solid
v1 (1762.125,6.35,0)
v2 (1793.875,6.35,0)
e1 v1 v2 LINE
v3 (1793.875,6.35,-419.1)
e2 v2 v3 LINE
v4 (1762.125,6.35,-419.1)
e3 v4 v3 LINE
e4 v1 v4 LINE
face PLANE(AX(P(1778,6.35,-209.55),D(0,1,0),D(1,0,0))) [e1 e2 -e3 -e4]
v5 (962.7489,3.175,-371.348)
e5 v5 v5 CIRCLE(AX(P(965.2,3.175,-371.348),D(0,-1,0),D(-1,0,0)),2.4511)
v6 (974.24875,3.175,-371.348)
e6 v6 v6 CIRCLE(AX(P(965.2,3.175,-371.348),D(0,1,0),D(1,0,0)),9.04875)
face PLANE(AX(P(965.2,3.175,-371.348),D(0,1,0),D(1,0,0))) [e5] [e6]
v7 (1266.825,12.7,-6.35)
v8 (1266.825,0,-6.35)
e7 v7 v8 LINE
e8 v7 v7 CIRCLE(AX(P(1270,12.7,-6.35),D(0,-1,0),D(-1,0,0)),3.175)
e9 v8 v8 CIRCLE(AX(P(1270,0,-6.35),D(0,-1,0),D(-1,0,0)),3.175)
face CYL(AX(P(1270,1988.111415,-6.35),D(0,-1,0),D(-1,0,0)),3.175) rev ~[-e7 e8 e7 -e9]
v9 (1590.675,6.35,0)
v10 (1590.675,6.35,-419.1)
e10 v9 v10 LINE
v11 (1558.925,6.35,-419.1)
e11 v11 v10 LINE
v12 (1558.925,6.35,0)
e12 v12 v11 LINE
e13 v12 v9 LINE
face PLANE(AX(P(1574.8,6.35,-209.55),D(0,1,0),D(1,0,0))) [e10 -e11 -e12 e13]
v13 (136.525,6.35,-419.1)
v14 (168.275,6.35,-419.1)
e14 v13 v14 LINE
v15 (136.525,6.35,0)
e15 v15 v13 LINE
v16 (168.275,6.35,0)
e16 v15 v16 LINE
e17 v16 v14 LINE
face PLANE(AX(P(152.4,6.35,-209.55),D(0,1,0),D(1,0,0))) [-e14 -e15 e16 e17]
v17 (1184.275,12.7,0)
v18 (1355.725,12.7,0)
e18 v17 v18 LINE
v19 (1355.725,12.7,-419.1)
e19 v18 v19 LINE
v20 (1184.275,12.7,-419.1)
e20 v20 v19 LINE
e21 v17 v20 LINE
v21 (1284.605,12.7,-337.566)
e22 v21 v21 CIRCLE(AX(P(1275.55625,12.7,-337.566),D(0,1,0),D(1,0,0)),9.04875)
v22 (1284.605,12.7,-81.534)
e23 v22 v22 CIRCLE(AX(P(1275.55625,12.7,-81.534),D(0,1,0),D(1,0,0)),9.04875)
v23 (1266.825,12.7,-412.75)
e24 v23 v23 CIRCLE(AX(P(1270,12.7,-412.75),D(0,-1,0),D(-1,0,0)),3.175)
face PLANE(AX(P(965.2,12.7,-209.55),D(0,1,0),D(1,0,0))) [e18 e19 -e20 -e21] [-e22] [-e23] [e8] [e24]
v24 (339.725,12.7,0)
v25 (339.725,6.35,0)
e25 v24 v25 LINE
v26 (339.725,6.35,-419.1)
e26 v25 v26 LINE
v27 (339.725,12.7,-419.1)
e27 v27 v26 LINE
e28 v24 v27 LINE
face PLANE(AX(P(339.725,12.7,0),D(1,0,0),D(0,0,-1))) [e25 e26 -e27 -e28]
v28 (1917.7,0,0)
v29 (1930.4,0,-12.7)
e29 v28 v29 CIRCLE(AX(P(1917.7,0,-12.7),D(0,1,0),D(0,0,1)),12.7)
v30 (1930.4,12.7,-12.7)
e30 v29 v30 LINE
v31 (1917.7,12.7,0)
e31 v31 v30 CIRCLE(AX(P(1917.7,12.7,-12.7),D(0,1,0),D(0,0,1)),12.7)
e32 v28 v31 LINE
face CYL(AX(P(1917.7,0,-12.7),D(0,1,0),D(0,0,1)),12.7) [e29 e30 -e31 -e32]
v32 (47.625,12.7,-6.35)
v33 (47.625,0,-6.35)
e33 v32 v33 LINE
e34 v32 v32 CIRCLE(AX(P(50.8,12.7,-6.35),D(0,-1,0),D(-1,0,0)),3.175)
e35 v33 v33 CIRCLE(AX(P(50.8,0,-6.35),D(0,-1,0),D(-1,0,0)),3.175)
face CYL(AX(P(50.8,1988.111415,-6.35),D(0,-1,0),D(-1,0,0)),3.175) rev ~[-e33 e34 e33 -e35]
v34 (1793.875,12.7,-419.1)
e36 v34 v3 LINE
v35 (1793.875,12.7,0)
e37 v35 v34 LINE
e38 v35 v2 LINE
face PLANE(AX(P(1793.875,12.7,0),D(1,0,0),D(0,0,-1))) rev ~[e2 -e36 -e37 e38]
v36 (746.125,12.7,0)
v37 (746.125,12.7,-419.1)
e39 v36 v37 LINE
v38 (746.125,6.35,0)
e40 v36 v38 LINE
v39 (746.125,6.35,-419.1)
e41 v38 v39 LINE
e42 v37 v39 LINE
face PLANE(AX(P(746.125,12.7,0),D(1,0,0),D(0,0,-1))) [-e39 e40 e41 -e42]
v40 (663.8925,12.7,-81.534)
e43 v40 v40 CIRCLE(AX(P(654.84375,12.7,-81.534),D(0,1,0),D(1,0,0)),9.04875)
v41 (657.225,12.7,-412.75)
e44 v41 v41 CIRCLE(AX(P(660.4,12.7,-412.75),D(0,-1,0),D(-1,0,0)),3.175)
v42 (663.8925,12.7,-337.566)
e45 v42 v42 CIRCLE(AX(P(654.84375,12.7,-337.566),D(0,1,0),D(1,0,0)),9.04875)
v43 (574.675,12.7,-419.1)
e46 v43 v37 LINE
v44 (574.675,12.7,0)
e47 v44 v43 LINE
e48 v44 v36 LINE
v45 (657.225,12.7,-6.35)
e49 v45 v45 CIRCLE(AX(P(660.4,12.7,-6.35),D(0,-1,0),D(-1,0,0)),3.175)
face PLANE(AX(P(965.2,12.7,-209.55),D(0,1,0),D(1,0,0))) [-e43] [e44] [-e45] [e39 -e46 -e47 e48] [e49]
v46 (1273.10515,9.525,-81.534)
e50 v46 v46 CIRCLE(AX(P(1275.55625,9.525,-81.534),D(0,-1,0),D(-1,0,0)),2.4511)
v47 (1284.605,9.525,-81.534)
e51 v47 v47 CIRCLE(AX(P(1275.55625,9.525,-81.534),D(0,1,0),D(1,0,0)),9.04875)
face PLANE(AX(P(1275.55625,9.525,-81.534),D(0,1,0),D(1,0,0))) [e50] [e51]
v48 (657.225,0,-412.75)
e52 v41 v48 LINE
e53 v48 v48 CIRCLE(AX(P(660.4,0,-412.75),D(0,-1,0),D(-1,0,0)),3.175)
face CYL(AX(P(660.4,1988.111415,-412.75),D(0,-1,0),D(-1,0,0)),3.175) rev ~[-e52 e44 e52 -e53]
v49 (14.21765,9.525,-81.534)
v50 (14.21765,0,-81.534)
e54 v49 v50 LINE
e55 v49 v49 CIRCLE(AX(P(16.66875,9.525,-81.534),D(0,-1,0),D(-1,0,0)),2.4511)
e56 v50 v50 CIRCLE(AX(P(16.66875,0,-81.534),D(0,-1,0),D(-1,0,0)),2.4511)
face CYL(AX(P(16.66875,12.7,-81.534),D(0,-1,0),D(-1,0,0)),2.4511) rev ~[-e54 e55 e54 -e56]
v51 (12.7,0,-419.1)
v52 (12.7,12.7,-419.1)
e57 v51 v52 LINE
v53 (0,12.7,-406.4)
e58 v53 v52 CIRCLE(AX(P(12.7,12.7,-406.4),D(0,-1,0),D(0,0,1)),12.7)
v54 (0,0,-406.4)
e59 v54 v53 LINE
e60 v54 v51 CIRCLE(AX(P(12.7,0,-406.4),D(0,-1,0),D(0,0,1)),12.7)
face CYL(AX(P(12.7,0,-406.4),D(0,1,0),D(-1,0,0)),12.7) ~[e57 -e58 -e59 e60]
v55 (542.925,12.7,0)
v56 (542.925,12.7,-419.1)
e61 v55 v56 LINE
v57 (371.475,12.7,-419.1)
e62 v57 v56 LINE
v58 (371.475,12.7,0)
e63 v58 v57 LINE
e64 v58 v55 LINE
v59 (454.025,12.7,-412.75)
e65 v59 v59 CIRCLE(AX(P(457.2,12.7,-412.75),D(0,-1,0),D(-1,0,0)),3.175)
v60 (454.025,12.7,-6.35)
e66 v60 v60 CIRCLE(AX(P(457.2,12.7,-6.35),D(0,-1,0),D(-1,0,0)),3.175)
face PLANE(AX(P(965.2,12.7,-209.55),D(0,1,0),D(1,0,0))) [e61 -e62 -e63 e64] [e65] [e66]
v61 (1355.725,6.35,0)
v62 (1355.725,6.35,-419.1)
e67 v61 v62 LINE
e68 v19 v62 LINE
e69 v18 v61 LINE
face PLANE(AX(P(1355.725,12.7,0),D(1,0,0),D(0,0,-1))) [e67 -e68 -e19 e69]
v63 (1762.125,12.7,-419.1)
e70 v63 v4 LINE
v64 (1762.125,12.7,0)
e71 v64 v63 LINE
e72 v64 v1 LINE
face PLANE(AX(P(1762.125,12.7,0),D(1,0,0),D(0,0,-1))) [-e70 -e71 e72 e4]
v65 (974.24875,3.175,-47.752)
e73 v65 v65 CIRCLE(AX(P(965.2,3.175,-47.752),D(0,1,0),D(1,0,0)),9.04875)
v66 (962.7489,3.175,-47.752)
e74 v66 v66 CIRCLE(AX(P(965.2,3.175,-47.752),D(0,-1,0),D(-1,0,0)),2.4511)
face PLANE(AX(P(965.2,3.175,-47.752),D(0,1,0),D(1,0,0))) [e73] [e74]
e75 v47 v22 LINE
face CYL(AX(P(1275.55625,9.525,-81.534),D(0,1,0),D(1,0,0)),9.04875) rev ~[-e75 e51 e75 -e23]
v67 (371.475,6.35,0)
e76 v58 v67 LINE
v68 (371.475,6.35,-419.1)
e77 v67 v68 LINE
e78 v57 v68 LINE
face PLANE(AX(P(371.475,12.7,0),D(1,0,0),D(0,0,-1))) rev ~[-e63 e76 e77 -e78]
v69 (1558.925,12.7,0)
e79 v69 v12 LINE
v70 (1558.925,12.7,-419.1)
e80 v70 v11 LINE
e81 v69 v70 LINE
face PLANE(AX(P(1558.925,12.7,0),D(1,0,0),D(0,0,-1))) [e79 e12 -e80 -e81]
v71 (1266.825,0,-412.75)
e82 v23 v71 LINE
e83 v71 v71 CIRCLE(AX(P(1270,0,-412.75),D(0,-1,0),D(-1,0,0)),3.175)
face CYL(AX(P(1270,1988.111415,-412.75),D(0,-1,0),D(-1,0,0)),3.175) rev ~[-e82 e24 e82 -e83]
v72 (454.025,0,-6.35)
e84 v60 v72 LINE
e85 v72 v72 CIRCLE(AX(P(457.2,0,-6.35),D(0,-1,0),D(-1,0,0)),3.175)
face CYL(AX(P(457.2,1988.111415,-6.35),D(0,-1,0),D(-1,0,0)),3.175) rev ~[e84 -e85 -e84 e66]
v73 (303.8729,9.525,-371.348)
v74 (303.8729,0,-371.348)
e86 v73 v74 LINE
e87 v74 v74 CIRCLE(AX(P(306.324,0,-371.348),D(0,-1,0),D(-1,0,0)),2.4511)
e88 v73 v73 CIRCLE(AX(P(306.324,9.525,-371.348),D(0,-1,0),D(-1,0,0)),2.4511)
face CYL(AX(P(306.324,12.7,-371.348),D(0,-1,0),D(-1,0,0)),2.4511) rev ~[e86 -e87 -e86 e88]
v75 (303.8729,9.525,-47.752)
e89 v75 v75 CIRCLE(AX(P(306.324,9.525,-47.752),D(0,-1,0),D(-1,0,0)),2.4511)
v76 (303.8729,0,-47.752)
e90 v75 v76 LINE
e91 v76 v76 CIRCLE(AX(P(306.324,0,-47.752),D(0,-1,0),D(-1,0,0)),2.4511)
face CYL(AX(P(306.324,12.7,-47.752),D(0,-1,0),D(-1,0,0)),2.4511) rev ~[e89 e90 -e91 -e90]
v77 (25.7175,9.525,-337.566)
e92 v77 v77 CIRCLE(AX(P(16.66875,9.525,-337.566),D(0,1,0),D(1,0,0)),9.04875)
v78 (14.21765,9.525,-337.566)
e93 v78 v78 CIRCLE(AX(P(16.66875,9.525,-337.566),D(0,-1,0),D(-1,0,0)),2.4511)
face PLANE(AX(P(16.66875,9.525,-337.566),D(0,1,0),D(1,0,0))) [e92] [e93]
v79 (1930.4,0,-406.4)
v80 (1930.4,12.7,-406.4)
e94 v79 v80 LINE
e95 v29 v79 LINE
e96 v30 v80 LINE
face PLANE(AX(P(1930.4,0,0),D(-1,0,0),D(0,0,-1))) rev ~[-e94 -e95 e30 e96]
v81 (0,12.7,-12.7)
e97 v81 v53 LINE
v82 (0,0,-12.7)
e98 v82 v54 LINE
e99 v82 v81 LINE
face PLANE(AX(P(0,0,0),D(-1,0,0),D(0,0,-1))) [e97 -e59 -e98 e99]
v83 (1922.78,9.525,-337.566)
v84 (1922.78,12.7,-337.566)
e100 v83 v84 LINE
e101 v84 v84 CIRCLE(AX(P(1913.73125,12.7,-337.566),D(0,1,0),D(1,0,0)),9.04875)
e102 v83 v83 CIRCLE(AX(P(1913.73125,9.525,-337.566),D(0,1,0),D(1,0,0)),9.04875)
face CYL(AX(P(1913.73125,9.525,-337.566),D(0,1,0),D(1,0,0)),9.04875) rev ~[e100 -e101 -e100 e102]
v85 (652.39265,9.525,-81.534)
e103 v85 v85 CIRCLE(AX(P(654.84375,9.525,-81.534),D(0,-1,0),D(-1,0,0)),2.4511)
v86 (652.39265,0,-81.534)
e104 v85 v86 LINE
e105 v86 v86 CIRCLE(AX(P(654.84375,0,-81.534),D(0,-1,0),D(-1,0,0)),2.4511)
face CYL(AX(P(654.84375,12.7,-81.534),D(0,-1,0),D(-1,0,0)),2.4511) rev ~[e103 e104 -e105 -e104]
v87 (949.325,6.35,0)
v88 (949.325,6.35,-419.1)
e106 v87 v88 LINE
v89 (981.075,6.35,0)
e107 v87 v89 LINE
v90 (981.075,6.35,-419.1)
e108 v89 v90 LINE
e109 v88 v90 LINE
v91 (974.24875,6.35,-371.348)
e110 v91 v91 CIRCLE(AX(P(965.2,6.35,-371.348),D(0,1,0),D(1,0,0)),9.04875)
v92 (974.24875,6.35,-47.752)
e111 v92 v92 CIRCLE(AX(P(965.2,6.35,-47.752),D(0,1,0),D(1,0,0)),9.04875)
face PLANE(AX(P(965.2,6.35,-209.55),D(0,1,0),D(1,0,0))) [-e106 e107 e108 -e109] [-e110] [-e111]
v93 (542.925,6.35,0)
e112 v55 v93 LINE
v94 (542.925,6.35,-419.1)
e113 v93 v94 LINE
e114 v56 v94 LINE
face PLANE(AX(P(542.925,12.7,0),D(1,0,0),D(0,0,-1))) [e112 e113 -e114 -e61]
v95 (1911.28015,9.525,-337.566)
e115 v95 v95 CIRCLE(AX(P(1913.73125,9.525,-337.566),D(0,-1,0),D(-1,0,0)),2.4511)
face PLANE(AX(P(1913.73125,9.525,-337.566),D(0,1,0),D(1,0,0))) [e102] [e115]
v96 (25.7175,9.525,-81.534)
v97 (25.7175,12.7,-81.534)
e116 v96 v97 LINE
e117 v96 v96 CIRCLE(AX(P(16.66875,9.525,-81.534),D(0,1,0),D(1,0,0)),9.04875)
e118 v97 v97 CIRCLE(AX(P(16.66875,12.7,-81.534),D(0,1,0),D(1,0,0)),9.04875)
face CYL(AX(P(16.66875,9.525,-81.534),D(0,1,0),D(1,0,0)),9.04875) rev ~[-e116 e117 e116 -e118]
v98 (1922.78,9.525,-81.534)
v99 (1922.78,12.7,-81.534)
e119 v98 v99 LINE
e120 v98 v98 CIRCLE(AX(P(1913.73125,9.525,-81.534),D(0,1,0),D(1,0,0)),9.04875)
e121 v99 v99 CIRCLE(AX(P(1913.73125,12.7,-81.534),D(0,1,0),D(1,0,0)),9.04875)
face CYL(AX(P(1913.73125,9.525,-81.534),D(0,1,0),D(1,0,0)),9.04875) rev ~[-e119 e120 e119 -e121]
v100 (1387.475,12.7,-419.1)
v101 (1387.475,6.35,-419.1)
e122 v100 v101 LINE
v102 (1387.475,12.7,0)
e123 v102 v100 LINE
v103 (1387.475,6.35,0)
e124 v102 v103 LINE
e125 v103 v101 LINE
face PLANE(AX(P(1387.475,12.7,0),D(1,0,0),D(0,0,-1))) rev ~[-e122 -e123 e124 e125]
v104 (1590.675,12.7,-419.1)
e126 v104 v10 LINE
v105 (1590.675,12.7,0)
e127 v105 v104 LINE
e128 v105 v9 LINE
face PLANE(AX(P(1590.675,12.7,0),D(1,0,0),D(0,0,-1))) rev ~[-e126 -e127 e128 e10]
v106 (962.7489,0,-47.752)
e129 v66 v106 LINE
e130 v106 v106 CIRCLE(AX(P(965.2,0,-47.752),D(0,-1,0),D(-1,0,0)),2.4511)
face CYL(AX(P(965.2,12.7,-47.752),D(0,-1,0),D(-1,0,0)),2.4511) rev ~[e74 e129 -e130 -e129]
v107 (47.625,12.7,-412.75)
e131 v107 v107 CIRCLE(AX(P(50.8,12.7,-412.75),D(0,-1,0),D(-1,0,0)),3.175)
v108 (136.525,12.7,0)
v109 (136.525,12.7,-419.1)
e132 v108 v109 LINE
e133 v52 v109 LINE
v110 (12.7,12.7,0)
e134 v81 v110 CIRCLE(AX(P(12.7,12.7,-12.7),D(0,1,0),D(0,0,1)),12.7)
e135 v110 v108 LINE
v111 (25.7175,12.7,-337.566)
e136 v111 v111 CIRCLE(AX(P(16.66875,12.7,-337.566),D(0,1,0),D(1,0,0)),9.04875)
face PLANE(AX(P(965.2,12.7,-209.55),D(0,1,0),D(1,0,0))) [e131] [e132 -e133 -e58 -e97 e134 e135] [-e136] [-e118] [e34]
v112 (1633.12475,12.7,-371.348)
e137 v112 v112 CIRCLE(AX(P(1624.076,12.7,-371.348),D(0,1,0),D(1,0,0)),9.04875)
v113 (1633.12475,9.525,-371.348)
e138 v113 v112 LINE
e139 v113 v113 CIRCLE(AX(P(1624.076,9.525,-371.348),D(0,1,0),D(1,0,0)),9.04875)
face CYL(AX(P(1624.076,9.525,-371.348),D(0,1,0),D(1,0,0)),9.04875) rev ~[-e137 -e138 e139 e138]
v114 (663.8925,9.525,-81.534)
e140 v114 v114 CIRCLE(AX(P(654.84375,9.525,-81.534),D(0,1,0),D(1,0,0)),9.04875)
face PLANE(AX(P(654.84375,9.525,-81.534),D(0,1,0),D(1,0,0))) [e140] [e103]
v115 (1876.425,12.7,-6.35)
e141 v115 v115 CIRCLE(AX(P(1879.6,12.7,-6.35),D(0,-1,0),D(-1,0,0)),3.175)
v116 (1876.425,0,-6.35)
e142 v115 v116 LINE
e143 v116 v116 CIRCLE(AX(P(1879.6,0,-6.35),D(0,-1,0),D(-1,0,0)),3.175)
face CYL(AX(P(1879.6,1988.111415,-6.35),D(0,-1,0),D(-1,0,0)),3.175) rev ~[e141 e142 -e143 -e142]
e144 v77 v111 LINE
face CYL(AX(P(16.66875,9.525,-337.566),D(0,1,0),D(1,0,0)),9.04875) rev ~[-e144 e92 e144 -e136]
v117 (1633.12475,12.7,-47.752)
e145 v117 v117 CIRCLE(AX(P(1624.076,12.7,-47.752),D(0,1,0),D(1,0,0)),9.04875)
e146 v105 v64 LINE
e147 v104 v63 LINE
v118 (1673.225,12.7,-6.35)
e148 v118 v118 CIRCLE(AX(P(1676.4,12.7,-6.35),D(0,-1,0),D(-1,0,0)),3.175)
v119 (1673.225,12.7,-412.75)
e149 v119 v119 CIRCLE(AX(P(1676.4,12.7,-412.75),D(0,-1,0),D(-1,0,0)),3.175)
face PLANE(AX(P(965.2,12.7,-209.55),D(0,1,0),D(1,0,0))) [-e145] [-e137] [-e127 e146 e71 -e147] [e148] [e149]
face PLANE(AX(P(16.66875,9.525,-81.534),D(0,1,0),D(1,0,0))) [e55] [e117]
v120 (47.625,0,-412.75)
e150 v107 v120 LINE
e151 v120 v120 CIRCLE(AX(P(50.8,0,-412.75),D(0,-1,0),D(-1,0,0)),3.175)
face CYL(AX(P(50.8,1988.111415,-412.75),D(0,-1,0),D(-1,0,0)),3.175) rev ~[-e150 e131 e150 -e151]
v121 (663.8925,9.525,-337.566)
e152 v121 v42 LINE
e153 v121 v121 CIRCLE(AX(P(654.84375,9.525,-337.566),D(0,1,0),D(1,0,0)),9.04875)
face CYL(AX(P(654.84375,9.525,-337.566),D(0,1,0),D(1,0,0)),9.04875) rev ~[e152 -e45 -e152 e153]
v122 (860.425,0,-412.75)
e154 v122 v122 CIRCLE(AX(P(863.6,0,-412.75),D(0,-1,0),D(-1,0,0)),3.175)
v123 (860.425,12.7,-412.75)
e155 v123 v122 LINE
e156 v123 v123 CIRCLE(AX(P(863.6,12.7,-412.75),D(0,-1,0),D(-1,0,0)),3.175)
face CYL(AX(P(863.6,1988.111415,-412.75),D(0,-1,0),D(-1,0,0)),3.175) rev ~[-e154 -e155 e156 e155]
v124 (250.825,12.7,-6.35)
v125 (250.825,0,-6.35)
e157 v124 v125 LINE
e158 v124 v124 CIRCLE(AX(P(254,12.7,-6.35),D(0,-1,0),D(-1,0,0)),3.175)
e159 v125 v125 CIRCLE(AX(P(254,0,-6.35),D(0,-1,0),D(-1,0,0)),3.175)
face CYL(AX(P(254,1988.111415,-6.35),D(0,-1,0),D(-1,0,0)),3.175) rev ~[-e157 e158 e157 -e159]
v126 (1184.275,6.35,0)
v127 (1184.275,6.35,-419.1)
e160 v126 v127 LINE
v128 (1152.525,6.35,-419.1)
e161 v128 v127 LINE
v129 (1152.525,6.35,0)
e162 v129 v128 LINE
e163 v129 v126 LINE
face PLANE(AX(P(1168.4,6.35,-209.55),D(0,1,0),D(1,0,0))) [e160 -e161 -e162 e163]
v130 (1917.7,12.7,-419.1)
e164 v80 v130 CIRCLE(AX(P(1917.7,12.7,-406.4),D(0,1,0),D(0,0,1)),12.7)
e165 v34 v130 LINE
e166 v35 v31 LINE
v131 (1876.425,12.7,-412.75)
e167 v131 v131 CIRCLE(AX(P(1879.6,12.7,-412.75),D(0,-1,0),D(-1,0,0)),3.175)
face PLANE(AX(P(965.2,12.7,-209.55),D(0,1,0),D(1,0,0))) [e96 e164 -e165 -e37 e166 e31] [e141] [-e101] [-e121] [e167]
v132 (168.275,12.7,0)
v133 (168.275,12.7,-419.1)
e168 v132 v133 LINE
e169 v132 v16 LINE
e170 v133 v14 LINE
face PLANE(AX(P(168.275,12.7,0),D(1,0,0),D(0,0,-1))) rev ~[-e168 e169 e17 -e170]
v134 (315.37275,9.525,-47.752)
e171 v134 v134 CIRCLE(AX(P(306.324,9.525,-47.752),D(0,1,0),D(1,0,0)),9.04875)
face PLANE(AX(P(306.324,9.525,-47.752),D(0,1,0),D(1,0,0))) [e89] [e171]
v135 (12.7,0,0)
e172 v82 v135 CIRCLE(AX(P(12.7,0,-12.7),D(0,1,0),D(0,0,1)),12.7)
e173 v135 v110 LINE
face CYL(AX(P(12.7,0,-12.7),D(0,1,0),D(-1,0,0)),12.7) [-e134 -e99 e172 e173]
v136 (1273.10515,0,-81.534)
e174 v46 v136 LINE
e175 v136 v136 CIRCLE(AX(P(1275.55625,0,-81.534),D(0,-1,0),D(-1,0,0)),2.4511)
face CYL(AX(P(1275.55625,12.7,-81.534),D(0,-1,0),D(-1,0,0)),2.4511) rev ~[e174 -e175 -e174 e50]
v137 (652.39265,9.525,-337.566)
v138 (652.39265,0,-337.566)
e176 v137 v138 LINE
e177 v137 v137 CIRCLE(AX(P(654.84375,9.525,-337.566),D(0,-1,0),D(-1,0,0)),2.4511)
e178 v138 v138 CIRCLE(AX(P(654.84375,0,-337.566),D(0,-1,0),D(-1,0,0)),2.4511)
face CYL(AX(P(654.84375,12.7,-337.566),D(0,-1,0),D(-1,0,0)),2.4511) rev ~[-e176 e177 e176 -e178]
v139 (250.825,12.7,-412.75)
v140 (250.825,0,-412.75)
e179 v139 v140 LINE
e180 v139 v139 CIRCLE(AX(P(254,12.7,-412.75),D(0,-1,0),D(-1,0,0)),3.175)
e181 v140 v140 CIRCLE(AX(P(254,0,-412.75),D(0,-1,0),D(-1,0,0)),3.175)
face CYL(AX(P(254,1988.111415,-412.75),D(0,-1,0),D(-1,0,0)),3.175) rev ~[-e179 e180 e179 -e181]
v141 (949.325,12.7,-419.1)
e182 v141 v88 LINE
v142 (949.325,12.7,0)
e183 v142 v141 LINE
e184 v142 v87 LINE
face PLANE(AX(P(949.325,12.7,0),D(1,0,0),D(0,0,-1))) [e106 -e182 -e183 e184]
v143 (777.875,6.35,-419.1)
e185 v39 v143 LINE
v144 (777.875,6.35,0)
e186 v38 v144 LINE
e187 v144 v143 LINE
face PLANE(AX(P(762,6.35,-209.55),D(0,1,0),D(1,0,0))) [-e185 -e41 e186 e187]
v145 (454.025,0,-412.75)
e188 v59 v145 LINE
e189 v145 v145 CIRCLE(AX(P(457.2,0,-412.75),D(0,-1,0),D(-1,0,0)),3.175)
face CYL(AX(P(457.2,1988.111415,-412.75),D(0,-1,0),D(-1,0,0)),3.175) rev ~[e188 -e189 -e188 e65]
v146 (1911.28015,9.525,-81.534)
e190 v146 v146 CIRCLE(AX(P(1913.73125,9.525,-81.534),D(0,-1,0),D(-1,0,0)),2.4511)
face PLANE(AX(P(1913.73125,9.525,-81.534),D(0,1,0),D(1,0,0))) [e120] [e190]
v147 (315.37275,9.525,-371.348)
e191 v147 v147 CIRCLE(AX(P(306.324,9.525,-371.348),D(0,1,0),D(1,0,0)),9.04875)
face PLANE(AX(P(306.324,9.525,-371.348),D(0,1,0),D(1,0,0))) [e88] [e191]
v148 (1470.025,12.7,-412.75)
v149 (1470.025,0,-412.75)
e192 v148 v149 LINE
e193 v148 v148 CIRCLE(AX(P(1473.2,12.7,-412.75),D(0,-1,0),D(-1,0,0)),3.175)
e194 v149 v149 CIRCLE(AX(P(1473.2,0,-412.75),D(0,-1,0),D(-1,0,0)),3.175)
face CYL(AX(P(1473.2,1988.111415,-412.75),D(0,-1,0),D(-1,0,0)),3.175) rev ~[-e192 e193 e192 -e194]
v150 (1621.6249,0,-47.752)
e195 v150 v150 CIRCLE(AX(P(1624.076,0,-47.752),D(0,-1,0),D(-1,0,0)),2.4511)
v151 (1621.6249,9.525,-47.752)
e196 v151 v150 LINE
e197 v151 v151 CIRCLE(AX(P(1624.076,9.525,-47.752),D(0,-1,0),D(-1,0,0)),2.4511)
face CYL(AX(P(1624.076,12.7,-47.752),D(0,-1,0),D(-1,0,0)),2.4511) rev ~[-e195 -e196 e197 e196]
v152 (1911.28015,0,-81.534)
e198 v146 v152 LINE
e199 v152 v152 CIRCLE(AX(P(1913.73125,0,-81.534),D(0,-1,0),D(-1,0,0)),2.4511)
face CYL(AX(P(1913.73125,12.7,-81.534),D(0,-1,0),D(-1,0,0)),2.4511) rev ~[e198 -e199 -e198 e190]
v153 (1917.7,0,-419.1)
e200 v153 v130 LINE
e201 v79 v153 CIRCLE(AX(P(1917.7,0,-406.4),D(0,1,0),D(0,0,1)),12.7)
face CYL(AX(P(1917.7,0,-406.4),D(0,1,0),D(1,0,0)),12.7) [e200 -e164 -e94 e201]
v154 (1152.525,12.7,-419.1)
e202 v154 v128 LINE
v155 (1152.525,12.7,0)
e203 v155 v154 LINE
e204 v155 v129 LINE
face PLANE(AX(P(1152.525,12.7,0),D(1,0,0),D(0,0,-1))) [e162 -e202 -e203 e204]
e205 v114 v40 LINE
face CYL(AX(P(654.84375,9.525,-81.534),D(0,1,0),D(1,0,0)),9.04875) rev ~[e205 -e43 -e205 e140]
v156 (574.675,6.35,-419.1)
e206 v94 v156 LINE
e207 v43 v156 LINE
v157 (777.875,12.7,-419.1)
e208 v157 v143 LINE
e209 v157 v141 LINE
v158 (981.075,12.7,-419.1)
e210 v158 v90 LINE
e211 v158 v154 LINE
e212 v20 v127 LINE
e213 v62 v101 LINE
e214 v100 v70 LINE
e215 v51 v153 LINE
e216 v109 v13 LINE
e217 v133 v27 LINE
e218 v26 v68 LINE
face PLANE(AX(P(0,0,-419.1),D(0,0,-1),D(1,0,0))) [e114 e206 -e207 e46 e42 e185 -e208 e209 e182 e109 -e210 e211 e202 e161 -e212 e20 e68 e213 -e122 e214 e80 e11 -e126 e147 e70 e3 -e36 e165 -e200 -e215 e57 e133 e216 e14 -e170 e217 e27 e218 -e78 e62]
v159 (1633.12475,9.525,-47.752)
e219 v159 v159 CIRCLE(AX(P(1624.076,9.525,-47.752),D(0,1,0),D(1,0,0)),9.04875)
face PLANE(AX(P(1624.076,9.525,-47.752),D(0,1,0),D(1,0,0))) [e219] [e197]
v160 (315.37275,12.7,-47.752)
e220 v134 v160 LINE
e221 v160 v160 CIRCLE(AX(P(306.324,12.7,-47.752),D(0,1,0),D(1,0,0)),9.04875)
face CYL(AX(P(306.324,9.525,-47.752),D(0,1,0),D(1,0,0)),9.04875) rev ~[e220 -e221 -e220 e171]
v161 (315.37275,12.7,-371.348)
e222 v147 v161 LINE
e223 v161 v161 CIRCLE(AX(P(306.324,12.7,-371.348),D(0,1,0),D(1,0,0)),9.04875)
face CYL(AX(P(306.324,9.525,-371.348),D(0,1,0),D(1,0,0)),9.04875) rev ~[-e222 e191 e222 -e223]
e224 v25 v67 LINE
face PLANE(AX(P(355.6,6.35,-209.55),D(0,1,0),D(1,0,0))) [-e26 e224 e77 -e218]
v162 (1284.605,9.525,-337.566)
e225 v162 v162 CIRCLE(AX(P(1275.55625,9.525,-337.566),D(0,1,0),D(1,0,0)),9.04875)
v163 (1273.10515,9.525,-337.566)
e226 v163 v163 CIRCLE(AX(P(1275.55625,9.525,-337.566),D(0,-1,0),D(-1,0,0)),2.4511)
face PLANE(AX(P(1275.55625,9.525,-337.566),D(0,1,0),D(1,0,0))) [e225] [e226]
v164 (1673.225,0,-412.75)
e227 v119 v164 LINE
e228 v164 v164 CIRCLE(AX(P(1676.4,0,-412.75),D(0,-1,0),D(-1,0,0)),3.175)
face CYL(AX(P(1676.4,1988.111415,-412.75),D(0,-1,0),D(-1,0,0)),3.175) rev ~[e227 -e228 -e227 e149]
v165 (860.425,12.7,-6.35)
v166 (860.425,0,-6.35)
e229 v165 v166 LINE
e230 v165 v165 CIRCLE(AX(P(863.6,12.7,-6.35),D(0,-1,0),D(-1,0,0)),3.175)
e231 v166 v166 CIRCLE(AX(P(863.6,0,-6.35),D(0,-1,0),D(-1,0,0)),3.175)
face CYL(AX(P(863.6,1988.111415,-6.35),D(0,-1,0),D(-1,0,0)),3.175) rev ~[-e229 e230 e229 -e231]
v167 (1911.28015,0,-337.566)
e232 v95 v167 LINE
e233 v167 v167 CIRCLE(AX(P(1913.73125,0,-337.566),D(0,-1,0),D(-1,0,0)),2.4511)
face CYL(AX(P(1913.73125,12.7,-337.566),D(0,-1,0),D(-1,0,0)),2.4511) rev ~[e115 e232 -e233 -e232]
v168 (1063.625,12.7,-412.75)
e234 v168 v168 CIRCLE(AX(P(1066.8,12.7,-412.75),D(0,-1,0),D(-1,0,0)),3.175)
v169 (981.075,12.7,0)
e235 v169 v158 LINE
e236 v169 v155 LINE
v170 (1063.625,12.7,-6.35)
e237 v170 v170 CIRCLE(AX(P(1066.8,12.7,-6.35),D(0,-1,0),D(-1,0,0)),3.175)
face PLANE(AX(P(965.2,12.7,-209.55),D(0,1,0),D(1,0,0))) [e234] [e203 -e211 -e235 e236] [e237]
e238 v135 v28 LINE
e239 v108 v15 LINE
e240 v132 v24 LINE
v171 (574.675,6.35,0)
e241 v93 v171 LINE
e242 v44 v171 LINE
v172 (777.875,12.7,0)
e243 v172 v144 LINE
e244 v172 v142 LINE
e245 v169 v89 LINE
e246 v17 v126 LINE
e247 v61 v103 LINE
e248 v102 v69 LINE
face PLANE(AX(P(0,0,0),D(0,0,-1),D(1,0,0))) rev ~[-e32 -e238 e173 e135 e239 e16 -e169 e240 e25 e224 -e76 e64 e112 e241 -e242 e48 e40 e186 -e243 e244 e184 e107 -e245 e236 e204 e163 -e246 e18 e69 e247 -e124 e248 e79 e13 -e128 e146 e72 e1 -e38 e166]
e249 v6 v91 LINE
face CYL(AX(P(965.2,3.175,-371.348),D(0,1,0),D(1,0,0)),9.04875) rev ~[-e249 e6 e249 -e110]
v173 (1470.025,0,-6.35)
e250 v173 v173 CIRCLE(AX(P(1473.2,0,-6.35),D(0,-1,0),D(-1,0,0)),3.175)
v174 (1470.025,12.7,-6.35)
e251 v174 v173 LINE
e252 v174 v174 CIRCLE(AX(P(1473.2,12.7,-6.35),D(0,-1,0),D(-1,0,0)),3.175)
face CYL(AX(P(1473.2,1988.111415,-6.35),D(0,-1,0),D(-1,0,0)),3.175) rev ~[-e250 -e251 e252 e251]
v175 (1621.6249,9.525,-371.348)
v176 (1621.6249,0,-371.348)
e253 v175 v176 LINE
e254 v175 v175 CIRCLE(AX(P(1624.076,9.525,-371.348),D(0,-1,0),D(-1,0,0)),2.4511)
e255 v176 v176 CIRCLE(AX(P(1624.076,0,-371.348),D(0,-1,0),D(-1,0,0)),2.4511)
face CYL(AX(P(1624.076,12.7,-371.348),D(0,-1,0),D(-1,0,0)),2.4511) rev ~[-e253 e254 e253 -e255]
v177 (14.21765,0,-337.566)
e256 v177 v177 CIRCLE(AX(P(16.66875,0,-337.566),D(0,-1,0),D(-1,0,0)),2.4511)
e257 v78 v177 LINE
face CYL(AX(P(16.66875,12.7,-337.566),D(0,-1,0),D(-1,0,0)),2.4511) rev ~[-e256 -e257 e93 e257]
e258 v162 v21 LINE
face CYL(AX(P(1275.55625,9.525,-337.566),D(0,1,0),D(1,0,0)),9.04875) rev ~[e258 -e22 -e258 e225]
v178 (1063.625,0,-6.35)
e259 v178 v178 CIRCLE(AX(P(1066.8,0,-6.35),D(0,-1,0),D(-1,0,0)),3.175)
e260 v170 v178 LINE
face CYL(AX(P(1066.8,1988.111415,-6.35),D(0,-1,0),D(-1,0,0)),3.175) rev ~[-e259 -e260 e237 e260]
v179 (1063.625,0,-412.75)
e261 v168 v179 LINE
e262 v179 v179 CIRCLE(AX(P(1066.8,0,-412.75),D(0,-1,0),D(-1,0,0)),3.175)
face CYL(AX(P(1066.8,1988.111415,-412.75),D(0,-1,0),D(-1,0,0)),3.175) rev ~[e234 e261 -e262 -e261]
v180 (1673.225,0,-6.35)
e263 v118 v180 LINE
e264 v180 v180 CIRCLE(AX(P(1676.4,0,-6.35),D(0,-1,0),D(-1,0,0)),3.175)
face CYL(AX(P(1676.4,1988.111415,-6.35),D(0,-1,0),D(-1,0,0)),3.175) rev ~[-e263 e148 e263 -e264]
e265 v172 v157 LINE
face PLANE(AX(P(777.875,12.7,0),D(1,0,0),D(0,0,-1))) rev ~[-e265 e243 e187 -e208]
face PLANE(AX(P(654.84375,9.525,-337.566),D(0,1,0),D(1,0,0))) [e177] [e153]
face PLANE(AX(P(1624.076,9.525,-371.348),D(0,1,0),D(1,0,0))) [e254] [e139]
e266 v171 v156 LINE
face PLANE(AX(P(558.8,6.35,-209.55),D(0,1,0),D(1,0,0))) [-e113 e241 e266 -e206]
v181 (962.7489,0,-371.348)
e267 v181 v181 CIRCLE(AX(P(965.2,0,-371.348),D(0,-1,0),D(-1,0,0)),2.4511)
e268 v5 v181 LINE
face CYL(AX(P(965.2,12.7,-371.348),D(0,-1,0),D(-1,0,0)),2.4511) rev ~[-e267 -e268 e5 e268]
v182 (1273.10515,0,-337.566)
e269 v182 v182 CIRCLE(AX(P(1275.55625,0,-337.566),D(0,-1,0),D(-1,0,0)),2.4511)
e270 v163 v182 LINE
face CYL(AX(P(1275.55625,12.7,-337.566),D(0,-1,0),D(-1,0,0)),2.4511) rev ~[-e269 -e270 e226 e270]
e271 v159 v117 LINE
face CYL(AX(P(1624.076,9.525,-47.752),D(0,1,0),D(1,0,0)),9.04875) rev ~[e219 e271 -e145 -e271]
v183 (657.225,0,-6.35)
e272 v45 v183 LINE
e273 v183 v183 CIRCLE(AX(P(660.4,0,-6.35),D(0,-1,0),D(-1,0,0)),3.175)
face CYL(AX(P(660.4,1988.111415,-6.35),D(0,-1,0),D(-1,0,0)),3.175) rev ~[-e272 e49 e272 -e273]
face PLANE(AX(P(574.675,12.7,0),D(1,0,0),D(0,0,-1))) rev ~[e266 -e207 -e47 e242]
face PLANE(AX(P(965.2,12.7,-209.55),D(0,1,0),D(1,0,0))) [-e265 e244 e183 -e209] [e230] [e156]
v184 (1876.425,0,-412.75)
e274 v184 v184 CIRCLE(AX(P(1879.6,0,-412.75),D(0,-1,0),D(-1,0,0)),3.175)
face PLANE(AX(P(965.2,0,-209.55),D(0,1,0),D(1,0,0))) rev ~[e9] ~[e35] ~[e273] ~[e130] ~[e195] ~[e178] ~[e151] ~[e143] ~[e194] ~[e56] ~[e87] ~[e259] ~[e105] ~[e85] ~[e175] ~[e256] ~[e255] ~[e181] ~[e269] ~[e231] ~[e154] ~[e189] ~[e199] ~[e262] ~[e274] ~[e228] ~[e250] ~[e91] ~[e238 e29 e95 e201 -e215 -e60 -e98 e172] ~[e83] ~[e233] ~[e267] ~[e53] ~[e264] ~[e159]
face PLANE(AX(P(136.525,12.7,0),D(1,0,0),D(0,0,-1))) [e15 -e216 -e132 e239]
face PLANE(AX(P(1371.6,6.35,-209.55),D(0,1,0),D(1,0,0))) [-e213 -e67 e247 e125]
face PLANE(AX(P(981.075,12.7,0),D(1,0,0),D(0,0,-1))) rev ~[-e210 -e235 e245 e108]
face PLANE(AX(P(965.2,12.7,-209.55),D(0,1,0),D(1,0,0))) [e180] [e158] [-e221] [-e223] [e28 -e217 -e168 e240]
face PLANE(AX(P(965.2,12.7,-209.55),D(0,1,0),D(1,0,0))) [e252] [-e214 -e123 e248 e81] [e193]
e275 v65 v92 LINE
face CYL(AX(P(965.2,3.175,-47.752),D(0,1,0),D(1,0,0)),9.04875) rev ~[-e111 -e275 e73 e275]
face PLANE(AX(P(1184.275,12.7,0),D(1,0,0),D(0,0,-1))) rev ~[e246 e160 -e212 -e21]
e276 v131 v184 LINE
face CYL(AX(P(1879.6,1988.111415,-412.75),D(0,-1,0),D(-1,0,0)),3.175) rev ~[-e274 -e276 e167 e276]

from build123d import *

# Parameters (mm, degrees)
SKETCH1_W                                           = 1930.4
SKETCH1_H                                           = 419.1
BOSS_EXTRUDE1_DEPTH                                 = 12.7
FILLET1_R                                           = 12.7
SKETCH8_W                                           = 31.75
SKETCH8_H                                           = 419.1
CUT_EXTRUDE3_DEPTH                                  = 6.35
F_1_4_0_25_DIAMETER_HOLE1_D                         = 6.35
CBORE_FOR_10_SOCKET_HEAD_CAP_SCREW1_D               = 4.9022
CBORE_FOR_10_SOCKET_HEAD_CAP_SCREW1_CBORE_D         = 18.0975
CBORE_FOR_10_SOCKET_HEAD_CAP_SCREW1_CBORE_DEPTH     = 3.175
CBORE_FOR_10_BINDING_HEAD_MACHINE_SCREW_D           = 4.9022
CBORE_FOR_10_BINDING_HEAD_MACHINE_SCREW_CBORE_D     = 18.0975
CBORE_FOR_10_BINDING_HEAD_MACHINE_SCREW_CBORE_DEPTH = 3.175


with BuildPart() as part:
    # Sketch1 → Boss-Extrude1 (new body)
    with BuildSketch(Plane(origin=(0, 0, 0), x_dir=(1, 0, 0), z_dir=(0, 1, 0))):
        with Locations((965.2, 209.55)):
            Rectangle(SKETCH1_W, SKETCH1_H)
    extrude(amount=BOSS_EXTRUDE1_DEPTH)

    # Fillet1
    fillet1_edges = [part.edges().sort_by_distance(p)[0] for p in [
        (0, 6.35, -419.1),
        (1930.4, 6.35, -419.1),
        (1930.4, 6.35, 0),
        (0, 6.35, 0),
    ]]
    fillet(fillet1_edges, radius=FILLET1_R)

    # Sketch8 → Cut-Extrude3 (cut)
    with BuildSketch(Plane(origin=(0, 12.7, 0), x_dir=(1, 0, 0), z_dir=(0, 1, 0))):
        with Locations((152.4, 209.55)):
            Rectangle(SKETCH8_W, SKETCH8_H)
        with Locations((355.6, 209.55)):
            Rectangle(SKETCH8_W, SKETCH8_H)
        with Locations((558.8, 209.55)):
            Rectangle(SKETCH8_W, SKETCH8_H)
        with Locations((762, 209.55)):
            Rectangle(SKETCH8_W, SKETCH8_H)
        with Locations((965.2, 209.55)):
            Rectangle(SKETCH8_W, SKETCH8_H)
        with Locations((1168.4, 209.55)):
            Rectangle(SKETCH8_W, SKETCH8_H)
        with Locations((1371.6, 209.55)):
            Rectangle(SKETCH8_W, SKETCH8_H)
        with Locations((1574.8, 209.55)):
            Rectangle(SKETCH8_W, SKETCH8_H)
        with Locations((1778, 209.55)):
            Rectangle(SKETCH8_W, SKETCH8_H)
    extrude(amount=-CUT_EXTRUDE3_DEPTH, mode=Mode.SUBTRACT)

    # 1/4 (0.25) Diameter Hole1 (through all)
    with Locations(Plane(origin=(0, 12.7, 0), x_dir=(1, 0, 0), z_dir=(0, 1, 0))):
        with Locations((254, 6.35), (457.2, 6.35), (660.4, 6.35), (863.6, 6.35), (1066.8, 6.35), (1270, 6.35), (1473.2, 6.35), (1676.4, 6.35), (50.8, 6.35), (1879.6, 6.35), (1676.4, 412.75), (1879.6, 412.75), (50.8, 412.75), (1473.2, 412.75), (1270, 412.75), (1066.8, 412.75), (863.6, 412.75), (660.4, 412.75), (457.2, 412.75), (254, 412.75)):
            Hole(F_1_4_0_25_DIAMETER_HOLE1_D / 2)

    # CBORE for #10 Socket Head Cap Screw1 (through all)
    with Locations(Plane(origin=(0, 12.7, 0), x_dir=(1, 0, 0), z_dir=(0, 1, 0))):
        with Locations((16.66875, 337.566), (16.66875, 81.534), (306.324, 47.752), (306.324, 371.348), (654.84375, 337.566), (654.84375, 81.534), (965.2, 371.348), (965.2, 47.752), (1275.55625, 81.534), (1275.55625, 337.566), (1624.076, 371.348), (1624.076, 47.752), (1913.73125, 81.534), (1913.73125, 337.566)):
            CounterBoreHole(CBORE_FOR_10_SOCKET_HEAD_CAP_SCREW1_D / 2, CBORE_FOR_10_SOCKET_HEAD_CAP_SCREW1_CBORE_D / 2, CBORE_FOR_10_SOCKET_HEAD_CAP_SCREW1_CBORE_DEPTH)

    # CBORE for #10 Binding Head Machine Screw1 (through all)
    with Locations(Plane(origin=(0, 6.35, 0), x_dir=(1, 0, 0), z_dir=(0, 1, 0))):
        with Locations((965.2, 371.348), (965.2, 47.752)):
            CounterBoreHole(CBORE_FOR_10_BINDING_HEAD_MACHINE_SCREW_D / 2, CBORE_FOR_10_BINDING_HEAD_MACHINE_SCREW_CBORE_D / 2, CBORE_FOR_10_BINDING_HEAD_MACHINE_SCREW_CBORE_DEPTH)


solid = part.part
